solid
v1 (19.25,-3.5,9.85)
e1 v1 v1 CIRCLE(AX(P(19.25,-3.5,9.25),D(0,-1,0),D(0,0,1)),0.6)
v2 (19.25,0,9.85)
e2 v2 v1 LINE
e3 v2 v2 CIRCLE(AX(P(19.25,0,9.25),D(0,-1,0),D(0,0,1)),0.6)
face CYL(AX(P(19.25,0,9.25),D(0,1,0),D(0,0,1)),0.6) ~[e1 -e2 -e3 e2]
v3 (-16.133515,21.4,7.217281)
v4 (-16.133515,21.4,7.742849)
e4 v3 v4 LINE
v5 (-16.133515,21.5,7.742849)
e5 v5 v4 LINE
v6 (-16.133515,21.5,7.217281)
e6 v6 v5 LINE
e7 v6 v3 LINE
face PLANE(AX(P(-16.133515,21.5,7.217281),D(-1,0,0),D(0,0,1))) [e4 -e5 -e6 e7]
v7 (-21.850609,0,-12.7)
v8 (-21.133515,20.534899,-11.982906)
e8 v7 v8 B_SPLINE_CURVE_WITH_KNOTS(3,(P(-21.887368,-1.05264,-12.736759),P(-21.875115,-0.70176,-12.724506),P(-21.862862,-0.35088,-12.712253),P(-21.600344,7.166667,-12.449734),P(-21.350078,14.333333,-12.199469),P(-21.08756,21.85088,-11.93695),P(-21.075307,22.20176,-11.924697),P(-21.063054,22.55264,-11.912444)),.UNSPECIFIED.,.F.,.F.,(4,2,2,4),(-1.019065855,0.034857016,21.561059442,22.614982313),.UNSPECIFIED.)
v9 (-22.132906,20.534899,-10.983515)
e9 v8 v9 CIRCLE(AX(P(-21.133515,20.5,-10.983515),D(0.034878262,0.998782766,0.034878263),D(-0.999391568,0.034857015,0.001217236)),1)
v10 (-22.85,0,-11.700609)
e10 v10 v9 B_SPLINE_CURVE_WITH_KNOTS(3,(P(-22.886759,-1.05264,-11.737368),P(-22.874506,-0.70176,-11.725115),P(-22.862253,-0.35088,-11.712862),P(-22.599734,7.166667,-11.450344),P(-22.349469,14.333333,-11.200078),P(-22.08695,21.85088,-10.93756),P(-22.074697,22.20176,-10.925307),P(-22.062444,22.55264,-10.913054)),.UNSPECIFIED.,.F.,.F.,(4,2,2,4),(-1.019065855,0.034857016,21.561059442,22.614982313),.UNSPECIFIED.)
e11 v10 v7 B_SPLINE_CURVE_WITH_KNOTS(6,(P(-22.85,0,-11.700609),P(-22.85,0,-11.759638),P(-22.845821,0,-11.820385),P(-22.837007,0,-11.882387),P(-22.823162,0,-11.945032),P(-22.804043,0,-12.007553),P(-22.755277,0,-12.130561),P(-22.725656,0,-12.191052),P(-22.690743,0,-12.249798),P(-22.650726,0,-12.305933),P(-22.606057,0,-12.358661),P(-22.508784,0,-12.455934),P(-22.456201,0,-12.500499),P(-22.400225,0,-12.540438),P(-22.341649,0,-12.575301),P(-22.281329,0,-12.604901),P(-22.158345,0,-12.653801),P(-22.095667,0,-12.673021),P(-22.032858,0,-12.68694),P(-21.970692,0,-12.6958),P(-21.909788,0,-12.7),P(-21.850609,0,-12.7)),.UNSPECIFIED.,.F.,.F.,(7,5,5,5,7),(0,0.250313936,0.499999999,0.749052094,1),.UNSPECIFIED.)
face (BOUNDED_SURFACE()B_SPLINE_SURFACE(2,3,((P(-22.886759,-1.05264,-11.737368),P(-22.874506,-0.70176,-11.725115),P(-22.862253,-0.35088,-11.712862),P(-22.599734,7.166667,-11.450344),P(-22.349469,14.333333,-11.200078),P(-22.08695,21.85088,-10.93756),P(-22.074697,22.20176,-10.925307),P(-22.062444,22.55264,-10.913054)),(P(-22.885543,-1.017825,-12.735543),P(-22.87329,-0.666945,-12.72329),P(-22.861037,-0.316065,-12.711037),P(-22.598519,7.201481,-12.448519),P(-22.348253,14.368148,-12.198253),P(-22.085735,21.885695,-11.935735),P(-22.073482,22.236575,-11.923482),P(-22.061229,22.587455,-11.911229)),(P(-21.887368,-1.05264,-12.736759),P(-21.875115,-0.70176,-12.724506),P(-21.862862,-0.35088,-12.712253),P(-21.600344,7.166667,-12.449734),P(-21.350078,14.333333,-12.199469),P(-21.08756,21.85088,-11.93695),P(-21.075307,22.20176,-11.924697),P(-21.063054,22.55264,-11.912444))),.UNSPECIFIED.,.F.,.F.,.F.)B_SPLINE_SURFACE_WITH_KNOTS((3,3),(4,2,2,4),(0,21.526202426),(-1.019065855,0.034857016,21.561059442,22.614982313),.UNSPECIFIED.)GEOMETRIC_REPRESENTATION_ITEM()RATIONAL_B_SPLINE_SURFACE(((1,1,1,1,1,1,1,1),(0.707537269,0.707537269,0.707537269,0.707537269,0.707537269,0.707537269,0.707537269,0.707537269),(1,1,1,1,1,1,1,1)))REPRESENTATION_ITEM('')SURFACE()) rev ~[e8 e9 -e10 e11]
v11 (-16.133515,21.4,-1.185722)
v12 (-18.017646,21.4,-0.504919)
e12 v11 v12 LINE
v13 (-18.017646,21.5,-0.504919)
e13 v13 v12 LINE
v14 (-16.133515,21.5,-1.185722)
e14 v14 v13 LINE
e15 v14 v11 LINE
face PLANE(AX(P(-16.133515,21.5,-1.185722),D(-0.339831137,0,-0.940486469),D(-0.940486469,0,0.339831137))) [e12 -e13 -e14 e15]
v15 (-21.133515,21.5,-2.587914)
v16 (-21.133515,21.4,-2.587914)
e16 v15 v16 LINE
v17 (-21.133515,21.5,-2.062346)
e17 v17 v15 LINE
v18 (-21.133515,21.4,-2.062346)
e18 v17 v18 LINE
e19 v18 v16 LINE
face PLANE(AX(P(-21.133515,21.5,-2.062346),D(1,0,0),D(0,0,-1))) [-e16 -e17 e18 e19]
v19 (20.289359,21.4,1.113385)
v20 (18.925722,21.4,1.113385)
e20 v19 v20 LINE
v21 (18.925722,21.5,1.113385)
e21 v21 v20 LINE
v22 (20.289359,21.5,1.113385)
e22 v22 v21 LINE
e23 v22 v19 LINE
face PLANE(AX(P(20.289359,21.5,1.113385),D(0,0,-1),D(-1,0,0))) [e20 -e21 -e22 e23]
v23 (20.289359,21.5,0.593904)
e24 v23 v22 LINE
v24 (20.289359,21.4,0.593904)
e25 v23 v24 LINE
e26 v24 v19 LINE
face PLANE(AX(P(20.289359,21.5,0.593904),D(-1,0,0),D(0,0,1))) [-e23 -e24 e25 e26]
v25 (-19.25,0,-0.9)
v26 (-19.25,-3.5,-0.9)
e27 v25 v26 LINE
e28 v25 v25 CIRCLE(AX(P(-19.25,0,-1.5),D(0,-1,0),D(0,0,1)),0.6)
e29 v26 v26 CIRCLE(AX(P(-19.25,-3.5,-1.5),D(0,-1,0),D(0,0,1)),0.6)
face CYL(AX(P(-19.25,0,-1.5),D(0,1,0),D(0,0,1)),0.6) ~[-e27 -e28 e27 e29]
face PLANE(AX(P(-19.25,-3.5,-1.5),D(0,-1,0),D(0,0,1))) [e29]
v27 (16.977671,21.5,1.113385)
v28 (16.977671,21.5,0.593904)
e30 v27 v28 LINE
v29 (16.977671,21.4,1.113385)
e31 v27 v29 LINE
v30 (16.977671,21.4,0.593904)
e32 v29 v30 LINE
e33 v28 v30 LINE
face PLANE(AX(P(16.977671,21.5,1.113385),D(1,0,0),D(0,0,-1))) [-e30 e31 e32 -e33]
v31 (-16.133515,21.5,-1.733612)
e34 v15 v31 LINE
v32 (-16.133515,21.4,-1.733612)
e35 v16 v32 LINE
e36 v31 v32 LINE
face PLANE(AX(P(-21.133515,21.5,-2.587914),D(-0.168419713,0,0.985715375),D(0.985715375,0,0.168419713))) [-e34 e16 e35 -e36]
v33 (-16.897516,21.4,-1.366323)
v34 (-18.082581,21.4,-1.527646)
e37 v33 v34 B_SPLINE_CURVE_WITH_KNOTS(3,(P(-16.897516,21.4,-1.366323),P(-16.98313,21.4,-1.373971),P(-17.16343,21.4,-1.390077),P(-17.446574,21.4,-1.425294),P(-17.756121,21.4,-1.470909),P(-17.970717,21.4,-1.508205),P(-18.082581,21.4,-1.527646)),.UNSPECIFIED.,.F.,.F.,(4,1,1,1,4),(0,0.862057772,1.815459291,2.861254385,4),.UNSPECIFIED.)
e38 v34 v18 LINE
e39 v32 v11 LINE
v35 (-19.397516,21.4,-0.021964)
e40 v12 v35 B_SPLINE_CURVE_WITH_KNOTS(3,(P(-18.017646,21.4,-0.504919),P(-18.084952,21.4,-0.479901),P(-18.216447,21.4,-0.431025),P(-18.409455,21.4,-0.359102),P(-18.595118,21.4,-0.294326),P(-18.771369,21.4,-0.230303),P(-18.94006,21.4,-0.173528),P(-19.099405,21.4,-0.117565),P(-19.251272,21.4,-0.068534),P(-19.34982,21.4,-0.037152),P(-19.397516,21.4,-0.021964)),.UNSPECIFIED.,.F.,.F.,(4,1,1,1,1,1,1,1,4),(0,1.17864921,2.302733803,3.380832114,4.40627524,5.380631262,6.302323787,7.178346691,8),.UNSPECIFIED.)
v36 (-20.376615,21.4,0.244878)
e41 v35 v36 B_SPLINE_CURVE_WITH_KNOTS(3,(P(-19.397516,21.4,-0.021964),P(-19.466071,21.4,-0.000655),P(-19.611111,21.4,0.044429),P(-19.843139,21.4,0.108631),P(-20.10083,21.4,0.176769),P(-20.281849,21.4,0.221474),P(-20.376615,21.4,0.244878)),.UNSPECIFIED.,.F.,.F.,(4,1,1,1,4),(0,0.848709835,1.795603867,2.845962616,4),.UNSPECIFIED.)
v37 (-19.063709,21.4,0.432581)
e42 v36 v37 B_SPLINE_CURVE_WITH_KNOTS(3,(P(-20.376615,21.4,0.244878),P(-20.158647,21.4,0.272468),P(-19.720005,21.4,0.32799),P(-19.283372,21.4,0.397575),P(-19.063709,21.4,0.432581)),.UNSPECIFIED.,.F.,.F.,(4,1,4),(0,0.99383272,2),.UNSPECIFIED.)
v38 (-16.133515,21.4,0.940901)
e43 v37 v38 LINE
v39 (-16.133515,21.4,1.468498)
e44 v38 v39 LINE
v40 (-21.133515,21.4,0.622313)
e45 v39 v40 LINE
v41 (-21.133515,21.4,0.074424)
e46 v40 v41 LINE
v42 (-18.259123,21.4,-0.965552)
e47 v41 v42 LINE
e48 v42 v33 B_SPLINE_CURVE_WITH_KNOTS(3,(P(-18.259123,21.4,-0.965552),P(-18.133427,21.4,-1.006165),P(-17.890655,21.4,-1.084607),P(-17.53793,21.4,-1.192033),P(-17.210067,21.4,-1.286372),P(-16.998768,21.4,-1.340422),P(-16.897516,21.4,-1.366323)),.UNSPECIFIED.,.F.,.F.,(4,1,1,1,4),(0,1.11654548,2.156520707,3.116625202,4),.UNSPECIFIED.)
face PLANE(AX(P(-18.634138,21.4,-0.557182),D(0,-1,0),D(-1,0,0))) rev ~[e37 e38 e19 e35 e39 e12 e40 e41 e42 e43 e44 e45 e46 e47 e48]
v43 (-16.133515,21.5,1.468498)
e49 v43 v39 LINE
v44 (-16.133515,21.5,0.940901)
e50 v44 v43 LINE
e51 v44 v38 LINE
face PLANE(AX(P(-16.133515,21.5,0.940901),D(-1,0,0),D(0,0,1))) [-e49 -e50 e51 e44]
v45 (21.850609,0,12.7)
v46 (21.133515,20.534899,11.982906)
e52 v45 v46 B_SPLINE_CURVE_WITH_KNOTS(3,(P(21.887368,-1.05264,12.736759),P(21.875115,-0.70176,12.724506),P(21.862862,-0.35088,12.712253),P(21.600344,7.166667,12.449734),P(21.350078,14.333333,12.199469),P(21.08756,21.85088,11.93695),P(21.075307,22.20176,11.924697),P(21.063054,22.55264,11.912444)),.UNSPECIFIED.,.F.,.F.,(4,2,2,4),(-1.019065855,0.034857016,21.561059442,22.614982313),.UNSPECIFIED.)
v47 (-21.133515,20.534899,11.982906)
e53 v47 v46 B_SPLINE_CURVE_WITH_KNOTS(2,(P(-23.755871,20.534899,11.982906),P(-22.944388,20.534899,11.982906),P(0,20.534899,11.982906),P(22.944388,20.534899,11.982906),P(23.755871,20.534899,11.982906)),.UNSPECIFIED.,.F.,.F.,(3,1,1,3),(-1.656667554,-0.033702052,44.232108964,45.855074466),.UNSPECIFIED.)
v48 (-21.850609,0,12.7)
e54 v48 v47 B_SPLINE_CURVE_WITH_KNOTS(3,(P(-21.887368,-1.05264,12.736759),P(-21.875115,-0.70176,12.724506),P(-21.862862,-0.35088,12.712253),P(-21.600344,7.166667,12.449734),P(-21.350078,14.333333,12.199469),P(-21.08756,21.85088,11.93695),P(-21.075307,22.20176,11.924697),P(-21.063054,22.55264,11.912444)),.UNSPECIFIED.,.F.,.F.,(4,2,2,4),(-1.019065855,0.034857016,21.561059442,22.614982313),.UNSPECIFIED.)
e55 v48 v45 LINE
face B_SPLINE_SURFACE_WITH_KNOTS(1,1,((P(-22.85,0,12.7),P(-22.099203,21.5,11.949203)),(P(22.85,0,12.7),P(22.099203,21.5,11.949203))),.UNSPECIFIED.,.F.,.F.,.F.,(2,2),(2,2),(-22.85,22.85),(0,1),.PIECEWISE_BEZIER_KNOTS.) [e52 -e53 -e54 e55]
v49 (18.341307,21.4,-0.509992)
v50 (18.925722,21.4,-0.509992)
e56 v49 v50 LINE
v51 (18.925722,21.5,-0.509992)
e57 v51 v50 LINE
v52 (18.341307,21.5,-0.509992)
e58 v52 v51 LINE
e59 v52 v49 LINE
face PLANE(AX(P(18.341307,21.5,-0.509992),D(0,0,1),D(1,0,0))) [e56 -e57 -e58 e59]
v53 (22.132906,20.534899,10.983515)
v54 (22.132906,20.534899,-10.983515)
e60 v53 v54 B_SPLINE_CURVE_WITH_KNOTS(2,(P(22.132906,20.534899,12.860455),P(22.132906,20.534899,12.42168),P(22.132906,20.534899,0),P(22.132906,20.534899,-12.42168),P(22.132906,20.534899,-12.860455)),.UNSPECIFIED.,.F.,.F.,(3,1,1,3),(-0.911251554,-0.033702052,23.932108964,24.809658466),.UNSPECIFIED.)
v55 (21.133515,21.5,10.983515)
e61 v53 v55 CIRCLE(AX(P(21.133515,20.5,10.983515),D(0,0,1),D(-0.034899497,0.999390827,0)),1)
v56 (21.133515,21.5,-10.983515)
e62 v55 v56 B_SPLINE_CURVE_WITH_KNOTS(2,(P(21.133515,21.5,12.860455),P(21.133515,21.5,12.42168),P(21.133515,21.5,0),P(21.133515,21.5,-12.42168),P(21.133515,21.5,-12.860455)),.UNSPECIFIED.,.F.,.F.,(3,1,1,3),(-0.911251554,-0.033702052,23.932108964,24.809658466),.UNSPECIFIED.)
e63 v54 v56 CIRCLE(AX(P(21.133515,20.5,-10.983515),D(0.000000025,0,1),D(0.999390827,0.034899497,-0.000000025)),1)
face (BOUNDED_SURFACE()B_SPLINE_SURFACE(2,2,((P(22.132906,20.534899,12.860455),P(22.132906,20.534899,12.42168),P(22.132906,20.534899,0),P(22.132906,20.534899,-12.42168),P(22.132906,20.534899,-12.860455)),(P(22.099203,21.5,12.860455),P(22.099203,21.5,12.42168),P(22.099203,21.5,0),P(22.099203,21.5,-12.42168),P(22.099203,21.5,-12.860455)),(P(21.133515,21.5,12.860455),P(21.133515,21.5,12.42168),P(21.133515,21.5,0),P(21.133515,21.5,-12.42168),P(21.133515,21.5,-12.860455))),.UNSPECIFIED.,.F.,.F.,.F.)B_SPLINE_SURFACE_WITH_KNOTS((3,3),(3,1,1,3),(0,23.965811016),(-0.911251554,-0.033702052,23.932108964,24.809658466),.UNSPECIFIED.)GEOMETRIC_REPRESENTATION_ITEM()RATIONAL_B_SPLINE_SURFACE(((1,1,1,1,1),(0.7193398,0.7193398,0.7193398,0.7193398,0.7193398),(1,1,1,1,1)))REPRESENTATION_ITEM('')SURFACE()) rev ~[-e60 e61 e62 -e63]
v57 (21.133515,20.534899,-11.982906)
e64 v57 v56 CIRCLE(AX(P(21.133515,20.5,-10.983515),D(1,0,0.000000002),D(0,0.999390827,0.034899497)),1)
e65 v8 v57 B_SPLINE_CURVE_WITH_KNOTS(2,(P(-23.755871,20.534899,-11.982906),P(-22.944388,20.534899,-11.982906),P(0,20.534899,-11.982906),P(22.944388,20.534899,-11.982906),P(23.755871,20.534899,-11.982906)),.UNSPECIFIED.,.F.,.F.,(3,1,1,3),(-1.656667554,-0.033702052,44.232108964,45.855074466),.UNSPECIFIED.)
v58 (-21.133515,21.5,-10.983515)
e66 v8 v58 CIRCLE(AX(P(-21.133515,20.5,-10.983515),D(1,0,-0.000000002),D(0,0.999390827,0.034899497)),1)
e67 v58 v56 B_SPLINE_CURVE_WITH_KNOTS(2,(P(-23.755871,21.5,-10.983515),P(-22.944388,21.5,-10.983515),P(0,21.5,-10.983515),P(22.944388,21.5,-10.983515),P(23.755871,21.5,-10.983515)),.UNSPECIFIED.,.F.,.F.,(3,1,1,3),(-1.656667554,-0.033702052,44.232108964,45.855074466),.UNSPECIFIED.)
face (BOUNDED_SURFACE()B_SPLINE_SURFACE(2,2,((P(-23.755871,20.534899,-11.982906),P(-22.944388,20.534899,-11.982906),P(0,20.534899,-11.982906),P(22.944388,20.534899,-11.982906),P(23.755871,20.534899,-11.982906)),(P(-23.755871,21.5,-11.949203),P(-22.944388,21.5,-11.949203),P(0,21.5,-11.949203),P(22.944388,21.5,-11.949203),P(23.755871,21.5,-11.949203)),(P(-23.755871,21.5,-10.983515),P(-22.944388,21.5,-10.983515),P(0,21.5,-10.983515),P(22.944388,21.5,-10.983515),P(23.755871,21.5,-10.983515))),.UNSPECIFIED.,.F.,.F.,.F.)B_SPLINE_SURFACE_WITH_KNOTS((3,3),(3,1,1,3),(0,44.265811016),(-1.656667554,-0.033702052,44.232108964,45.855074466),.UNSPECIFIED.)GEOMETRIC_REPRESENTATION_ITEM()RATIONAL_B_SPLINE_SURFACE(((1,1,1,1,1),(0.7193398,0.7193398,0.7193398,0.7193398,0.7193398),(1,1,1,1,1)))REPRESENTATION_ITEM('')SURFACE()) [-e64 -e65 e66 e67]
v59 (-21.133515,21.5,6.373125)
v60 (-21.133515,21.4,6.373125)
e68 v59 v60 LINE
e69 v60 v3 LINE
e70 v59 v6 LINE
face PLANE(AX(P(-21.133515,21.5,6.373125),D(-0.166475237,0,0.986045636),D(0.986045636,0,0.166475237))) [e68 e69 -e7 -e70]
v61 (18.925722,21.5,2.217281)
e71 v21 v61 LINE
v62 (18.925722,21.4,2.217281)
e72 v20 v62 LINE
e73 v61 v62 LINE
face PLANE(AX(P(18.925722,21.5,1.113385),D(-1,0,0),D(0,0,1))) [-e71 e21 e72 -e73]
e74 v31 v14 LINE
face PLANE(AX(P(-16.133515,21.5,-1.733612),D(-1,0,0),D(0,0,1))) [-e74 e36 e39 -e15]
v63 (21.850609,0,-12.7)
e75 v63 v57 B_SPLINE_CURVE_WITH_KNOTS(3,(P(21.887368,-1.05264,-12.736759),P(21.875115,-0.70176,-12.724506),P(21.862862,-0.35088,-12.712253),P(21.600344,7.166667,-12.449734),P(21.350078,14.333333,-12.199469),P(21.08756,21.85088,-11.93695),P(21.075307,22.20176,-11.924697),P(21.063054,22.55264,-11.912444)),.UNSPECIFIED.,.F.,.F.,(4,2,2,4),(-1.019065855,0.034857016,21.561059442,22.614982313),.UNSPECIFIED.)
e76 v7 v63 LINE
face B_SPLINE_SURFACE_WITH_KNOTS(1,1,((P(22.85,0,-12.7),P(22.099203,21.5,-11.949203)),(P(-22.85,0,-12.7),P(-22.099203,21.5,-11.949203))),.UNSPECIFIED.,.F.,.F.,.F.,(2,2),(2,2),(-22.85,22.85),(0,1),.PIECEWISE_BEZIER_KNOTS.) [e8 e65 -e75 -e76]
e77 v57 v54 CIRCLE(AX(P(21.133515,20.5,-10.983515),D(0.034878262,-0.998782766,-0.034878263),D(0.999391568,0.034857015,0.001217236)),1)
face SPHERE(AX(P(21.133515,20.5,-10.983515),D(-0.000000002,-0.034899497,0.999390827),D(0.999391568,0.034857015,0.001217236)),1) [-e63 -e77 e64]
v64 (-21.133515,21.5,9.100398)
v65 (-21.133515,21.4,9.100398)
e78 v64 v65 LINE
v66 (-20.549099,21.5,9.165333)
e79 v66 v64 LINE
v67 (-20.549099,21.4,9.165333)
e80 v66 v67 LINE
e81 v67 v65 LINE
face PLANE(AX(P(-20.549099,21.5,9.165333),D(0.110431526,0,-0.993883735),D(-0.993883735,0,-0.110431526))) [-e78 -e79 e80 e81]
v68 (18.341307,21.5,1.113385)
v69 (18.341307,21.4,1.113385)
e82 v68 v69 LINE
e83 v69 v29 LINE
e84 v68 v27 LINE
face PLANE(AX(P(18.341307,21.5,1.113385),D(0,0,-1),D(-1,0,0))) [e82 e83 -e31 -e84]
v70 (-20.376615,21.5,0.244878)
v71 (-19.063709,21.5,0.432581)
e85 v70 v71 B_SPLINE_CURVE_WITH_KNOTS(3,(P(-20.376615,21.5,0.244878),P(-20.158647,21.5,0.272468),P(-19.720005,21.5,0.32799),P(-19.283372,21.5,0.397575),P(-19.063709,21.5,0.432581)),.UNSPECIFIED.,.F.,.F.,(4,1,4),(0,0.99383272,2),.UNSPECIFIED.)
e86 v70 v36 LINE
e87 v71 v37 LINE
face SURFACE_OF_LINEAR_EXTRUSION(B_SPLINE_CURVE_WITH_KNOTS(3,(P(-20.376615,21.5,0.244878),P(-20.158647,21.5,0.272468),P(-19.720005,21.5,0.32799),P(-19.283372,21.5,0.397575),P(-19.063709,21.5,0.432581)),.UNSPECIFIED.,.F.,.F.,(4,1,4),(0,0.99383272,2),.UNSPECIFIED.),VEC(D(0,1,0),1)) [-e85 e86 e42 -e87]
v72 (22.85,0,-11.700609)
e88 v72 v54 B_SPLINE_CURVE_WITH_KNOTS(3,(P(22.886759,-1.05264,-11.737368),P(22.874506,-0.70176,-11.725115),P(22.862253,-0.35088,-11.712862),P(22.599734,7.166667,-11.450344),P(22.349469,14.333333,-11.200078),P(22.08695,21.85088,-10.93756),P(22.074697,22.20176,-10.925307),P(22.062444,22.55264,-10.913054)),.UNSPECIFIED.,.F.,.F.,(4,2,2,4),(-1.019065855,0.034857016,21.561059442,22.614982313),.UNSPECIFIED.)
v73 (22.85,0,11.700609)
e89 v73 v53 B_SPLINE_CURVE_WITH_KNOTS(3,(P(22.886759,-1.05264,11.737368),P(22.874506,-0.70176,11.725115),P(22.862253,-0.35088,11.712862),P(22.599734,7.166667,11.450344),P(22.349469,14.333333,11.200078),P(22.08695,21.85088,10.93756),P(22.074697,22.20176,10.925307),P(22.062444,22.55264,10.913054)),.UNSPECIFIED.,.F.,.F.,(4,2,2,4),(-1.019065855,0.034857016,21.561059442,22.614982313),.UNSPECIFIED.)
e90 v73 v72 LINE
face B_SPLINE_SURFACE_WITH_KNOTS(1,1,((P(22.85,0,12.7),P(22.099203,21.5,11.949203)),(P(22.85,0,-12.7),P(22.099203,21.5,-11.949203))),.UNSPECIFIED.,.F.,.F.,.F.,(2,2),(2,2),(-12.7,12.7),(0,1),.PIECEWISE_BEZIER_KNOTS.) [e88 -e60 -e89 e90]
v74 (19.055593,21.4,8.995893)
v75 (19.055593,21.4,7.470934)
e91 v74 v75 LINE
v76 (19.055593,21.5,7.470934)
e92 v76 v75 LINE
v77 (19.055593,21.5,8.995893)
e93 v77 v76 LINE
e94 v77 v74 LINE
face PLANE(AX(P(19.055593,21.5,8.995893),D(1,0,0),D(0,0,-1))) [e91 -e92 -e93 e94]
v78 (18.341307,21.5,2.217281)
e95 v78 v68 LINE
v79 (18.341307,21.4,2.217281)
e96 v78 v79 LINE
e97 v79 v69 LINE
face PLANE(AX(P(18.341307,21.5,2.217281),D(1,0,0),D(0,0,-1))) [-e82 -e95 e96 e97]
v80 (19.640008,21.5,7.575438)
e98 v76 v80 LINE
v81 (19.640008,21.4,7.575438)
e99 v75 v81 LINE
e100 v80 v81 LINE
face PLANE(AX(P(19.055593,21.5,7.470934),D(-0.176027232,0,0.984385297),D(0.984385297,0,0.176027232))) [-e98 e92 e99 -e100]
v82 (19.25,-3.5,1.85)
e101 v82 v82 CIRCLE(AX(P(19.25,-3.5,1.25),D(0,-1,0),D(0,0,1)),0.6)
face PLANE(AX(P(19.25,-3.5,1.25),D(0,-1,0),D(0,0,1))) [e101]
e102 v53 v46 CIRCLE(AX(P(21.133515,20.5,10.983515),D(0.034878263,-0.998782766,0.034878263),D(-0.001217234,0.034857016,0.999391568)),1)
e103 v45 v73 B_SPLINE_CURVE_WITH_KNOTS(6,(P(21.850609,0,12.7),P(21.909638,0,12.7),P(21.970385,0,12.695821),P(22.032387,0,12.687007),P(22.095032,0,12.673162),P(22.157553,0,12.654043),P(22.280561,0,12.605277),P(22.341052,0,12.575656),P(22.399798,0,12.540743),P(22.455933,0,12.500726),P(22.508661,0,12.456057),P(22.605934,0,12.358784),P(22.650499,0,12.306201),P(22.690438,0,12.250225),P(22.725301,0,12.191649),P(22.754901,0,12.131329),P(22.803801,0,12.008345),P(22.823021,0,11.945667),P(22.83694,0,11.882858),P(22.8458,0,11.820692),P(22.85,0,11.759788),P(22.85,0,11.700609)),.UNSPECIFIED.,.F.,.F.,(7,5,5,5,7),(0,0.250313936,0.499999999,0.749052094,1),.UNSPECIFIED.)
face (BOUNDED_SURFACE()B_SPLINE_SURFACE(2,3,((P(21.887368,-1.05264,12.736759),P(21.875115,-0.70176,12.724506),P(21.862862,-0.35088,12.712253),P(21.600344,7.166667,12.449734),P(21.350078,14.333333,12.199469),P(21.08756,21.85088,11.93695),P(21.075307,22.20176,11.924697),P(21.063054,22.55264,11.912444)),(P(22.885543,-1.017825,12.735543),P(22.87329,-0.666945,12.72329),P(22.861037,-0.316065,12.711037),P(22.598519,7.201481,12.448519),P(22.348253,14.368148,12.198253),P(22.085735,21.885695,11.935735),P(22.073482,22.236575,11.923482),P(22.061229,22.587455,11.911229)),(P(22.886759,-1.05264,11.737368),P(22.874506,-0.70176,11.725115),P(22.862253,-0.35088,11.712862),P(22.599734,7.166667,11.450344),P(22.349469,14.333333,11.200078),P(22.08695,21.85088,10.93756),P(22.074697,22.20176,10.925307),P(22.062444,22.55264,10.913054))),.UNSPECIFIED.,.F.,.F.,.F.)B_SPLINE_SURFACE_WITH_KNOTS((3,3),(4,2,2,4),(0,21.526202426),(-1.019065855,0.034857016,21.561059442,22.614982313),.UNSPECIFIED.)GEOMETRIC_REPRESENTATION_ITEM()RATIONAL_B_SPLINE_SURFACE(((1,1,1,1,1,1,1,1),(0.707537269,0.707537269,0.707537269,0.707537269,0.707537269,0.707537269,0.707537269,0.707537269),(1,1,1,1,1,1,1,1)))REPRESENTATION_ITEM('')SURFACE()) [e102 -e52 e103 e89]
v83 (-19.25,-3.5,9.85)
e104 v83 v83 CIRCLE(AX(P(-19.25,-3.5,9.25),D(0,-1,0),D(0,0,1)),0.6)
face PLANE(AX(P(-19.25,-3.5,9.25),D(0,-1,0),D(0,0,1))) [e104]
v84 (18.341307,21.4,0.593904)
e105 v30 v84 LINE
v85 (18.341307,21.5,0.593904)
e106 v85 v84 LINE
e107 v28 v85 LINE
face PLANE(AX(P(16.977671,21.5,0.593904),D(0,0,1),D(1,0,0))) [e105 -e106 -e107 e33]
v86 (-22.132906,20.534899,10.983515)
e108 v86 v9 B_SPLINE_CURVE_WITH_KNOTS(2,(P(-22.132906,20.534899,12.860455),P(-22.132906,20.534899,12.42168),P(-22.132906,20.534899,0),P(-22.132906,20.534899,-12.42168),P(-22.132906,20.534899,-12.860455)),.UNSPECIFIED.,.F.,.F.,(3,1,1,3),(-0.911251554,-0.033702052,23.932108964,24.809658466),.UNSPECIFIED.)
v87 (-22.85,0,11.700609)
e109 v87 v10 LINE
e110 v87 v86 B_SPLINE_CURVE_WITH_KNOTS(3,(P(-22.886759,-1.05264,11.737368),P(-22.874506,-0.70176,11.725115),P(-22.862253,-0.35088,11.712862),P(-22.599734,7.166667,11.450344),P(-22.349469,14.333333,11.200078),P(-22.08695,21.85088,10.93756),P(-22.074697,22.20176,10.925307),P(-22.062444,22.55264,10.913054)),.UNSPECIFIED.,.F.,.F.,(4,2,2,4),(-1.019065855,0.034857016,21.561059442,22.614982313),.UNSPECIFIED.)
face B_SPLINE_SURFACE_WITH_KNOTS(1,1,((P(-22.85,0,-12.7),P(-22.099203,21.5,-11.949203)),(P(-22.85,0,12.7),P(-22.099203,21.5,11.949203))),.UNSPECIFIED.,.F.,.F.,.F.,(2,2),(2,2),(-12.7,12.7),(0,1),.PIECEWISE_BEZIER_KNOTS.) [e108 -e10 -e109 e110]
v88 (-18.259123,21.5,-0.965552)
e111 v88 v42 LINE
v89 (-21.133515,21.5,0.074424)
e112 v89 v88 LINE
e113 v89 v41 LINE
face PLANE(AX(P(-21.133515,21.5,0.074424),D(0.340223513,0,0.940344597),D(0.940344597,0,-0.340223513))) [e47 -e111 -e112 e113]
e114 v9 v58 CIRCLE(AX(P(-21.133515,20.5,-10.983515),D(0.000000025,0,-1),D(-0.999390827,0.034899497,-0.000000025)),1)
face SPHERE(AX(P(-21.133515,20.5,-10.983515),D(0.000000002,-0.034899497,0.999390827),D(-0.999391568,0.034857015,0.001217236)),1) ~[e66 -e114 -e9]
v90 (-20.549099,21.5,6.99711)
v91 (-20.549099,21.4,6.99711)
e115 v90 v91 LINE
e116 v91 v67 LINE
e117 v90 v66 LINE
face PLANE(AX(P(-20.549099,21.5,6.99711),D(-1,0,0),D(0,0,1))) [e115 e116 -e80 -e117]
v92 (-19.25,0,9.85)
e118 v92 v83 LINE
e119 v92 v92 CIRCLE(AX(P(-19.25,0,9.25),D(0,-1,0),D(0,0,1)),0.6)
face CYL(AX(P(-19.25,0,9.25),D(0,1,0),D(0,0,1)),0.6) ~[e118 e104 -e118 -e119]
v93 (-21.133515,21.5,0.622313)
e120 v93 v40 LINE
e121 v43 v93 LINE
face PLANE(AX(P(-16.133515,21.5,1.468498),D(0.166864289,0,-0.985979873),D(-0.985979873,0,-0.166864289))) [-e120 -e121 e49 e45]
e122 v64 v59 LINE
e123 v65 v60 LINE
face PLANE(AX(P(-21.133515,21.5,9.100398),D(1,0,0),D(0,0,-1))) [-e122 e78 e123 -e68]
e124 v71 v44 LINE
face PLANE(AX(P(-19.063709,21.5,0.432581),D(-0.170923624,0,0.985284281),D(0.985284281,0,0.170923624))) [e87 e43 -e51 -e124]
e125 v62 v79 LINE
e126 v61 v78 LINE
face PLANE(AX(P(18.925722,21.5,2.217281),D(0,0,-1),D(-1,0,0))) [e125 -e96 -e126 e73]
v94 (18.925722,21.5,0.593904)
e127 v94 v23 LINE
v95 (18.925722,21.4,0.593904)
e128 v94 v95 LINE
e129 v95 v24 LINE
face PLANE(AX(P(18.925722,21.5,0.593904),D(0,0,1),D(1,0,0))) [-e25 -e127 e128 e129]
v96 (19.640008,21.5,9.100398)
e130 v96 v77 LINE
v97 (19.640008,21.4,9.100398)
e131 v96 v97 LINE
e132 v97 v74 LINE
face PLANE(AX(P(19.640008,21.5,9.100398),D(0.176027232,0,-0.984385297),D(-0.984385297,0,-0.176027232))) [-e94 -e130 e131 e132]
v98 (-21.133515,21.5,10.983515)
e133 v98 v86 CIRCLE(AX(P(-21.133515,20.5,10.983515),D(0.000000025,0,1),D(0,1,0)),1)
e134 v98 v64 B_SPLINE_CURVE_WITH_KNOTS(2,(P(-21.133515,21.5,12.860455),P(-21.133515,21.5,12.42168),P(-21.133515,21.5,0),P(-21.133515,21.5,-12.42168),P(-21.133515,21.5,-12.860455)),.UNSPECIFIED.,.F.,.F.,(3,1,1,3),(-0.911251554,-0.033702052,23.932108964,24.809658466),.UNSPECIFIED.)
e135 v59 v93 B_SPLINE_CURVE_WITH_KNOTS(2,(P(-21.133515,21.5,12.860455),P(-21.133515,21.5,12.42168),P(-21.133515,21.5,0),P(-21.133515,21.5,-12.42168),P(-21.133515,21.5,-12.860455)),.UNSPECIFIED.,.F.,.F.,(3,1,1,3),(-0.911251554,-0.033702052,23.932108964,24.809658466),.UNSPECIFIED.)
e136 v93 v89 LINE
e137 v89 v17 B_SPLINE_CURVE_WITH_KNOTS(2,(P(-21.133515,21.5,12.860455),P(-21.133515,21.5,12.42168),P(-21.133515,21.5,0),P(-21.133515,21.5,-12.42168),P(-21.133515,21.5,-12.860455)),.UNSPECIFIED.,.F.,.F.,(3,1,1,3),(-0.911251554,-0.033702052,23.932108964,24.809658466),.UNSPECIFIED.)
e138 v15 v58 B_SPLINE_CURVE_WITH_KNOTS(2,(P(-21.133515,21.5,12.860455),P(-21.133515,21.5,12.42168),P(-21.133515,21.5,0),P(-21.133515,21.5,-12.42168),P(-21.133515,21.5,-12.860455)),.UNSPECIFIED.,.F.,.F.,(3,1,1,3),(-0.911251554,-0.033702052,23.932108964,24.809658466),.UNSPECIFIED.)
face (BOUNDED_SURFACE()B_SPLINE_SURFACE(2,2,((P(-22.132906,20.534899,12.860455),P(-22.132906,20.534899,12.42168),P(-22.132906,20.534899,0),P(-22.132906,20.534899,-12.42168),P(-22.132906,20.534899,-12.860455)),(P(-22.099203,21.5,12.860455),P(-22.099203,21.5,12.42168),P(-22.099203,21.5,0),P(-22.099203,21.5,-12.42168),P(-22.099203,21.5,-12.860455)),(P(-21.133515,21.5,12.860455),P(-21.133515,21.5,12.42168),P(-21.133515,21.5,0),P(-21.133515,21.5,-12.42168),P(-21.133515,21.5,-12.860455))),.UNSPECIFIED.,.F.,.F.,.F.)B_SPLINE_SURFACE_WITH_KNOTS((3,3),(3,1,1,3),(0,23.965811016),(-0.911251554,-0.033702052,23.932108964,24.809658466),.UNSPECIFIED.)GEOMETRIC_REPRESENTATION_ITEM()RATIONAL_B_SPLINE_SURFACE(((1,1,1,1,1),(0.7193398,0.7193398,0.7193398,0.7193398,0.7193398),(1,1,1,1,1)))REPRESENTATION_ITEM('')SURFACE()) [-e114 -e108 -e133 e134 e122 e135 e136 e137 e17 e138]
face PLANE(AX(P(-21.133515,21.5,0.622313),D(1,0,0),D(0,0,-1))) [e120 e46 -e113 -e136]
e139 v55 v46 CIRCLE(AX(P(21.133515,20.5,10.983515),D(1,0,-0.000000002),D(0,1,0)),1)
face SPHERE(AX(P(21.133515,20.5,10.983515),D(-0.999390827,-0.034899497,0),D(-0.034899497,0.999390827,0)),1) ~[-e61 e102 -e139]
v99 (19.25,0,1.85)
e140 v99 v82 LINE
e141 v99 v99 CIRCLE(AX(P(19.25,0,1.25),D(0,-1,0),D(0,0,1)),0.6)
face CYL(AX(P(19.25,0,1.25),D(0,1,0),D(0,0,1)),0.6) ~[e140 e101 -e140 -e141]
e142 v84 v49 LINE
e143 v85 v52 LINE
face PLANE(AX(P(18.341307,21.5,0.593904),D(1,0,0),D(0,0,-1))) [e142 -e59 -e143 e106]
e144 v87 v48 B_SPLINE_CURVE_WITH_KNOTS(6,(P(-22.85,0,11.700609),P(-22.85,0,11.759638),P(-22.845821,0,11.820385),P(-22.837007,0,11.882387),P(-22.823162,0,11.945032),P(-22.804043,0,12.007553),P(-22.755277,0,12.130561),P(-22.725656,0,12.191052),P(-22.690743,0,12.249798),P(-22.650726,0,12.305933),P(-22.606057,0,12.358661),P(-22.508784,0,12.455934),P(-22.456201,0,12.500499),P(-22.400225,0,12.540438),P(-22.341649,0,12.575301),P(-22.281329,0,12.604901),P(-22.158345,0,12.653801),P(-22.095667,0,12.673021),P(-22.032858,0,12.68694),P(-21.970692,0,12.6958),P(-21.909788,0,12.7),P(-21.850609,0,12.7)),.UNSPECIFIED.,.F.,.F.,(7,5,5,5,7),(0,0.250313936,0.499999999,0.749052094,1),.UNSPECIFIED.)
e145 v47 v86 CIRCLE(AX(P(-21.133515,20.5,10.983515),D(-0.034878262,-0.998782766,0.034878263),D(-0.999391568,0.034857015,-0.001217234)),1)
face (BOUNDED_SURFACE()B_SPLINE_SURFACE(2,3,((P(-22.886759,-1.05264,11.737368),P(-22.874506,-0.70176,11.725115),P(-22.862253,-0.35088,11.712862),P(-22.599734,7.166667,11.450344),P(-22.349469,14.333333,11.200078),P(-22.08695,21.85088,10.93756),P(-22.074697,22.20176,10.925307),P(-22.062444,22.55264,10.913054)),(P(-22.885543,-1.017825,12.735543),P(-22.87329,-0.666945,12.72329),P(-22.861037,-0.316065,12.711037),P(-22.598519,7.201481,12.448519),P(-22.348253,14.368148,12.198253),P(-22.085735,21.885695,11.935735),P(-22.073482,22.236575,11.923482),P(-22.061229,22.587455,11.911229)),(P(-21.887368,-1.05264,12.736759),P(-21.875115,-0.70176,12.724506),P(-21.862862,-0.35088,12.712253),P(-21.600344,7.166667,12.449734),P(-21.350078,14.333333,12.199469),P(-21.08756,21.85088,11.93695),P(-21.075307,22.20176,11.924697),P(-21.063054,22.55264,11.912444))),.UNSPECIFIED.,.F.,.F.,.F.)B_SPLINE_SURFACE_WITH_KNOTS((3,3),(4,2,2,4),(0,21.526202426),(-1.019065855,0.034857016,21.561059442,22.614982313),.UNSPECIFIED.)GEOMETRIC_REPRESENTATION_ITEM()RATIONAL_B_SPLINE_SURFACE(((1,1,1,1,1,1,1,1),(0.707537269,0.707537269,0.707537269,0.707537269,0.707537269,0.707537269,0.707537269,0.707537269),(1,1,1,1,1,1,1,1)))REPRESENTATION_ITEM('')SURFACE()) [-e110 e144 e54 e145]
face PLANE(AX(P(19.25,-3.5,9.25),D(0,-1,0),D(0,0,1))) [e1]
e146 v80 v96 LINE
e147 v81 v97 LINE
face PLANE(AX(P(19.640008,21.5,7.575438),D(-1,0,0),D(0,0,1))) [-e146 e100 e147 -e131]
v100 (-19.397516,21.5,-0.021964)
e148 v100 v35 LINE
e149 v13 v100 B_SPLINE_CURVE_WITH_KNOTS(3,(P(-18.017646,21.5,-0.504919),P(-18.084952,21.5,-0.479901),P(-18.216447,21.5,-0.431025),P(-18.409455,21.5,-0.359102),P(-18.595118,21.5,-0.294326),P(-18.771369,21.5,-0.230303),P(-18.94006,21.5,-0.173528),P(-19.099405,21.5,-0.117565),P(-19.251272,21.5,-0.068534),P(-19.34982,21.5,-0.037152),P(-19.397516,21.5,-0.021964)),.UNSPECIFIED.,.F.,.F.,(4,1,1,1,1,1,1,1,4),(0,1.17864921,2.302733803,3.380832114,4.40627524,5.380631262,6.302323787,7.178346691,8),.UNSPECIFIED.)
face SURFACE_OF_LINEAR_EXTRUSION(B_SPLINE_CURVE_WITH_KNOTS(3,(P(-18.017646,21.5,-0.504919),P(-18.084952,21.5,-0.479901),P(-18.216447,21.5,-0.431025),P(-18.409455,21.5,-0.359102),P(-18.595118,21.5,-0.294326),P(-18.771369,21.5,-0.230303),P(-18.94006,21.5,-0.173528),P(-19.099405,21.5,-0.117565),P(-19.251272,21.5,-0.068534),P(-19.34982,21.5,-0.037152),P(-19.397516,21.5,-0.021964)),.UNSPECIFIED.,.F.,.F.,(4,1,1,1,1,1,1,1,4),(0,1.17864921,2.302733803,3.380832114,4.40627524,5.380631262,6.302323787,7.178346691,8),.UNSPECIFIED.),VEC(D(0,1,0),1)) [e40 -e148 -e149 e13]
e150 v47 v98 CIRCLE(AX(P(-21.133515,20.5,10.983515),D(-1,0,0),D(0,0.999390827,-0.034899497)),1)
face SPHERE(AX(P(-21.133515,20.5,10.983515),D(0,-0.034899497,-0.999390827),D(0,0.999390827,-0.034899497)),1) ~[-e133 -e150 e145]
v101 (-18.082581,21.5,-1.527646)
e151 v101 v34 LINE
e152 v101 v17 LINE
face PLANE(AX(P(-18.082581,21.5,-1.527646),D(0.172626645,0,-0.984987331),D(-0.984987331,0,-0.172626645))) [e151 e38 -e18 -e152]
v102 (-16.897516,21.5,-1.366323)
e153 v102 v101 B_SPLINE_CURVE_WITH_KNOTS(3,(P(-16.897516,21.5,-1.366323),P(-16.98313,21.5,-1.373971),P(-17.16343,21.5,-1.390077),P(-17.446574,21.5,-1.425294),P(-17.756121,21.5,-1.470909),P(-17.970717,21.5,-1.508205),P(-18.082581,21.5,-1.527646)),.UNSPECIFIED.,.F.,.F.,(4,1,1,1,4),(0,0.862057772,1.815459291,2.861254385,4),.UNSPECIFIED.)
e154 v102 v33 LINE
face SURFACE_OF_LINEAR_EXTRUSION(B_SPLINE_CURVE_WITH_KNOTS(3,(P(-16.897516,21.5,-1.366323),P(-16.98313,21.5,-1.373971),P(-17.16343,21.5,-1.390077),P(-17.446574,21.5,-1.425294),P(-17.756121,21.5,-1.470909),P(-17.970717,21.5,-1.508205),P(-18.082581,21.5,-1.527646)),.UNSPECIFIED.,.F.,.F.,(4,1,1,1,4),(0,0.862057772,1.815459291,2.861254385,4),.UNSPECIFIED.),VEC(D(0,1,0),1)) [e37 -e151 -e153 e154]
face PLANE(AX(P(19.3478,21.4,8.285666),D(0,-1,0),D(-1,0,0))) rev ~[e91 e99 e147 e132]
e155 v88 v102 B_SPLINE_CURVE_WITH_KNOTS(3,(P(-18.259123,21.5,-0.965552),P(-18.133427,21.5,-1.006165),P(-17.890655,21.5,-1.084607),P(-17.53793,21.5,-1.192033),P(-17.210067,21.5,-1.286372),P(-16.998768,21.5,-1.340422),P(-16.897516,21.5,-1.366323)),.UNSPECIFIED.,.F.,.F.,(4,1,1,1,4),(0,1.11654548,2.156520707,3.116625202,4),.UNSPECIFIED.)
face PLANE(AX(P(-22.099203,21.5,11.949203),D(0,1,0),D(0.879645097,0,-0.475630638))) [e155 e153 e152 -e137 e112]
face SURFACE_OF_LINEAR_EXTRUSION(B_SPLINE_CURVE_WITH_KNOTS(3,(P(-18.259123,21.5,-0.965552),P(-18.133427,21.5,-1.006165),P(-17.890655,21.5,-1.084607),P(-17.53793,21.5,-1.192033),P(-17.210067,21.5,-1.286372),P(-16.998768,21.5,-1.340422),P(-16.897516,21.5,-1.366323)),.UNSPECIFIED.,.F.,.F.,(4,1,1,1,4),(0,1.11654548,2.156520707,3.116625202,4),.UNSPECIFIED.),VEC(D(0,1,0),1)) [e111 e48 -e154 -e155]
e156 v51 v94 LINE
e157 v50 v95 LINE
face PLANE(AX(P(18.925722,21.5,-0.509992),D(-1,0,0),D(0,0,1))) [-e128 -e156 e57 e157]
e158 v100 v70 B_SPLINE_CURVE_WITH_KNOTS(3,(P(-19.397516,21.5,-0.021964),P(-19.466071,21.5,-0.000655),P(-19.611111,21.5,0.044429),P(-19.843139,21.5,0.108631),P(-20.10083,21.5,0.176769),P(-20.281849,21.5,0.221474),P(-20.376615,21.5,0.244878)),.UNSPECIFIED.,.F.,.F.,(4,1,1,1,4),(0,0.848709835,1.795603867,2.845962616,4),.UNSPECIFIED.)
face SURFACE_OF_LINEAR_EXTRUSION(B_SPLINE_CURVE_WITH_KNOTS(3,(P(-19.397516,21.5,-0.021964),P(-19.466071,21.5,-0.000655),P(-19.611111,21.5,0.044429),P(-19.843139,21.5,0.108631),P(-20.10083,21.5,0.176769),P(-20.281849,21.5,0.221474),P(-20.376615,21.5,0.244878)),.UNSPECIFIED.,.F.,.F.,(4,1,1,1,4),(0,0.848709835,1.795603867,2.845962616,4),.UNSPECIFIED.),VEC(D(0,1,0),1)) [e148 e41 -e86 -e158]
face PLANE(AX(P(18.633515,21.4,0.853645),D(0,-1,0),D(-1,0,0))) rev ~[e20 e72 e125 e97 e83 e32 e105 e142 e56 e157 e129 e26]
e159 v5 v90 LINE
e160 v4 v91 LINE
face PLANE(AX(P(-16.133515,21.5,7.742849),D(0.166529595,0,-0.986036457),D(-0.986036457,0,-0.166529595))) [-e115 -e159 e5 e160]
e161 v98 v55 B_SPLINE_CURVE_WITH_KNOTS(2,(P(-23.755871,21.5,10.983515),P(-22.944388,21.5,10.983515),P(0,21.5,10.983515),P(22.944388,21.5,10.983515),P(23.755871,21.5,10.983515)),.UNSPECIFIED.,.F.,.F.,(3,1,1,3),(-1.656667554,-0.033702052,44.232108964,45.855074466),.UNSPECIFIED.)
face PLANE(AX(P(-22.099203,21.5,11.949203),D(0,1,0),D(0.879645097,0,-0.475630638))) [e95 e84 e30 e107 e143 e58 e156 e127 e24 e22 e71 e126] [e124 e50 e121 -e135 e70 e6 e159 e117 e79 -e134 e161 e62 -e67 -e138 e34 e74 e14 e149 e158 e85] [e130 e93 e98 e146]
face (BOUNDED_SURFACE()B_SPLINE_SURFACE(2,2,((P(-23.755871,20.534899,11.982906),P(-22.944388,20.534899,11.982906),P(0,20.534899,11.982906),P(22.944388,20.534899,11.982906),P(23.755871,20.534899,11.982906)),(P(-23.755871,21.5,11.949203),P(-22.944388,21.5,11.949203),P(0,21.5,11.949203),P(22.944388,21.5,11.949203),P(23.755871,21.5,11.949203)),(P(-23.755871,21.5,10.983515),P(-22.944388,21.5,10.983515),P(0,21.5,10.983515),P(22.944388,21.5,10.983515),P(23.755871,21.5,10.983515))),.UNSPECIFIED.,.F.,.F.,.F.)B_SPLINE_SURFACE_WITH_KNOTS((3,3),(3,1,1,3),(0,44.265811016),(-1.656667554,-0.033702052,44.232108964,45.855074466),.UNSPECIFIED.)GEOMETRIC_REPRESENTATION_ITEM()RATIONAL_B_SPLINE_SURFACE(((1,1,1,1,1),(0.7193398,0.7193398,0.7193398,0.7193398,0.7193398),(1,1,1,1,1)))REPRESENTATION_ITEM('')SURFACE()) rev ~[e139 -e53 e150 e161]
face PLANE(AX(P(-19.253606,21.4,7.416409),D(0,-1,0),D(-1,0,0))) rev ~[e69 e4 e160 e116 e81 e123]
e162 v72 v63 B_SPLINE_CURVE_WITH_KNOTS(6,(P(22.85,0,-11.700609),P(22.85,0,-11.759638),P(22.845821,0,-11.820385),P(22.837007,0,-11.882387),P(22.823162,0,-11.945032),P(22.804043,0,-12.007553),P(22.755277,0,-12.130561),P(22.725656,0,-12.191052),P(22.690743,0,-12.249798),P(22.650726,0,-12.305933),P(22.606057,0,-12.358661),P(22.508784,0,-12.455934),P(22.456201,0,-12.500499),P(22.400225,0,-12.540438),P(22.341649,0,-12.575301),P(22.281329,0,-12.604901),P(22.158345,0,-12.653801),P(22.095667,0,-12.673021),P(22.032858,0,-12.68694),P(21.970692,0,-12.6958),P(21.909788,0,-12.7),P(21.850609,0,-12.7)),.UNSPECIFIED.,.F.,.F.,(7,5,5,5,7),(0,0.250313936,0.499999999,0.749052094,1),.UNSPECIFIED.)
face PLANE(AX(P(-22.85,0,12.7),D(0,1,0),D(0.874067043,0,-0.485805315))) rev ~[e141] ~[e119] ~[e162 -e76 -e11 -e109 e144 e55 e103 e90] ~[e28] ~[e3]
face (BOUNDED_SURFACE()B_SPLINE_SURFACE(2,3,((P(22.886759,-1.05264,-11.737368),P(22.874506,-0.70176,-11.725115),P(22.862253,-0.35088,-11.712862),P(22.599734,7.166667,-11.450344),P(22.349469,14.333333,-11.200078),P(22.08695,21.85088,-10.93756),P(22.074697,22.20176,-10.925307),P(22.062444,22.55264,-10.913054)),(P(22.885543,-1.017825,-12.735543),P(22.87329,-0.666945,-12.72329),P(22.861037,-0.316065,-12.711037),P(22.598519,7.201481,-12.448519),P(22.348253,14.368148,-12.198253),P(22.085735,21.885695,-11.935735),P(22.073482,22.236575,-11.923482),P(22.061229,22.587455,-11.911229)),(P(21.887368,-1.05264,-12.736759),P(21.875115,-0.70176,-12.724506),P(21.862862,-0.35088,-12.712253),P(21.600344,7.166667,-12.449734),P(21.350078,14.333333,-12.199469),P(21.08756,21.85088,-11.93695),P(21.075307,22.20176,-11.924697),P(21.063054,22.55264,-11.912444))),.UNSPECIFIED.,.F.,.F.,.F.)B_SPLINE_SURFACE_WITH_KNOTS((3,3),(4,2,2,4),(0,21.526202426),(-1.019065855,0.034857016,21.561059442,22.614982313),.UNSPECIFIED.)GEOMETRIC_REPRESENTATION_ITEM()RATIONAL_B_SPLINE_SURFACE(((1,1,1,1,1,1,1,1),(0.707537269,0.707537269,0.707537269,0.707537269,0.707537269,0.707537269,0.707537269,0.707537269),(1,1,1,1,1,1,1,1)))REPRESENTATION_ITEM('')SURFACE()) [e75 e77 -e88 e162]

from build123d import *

# Parameters (mm, degrees)
SKETCH_1_W          = 45.7
SKETCH_1_H          = 25.4
EXTRUDE_1_DEPTH     = 21.5
EXTRUDE_1_TAPER     = 2
FILLET_1_R          = 1
SKETCH_2_R          = 0.6
EXTRUDE_2_DEPTH     = 3.5
CUT_EXTRUDE_1_DEPTH = 0.1


with BuildPart() as part:
    # Эскиз1 → Бобышка-Вытянуть1 (new body)
    with BuildSketch(Plane(origin=(0, 0, 0), x_dir=(1, 0, 0), z_dir=(0, 1, 0))):
        Rectangle(SKETCH_1_W, SKETCH_1_H)
    extrude(amount=EXTRUDE_1_DEPTH, taper=EXTRUDE_1_TAPER)

    # Скругление1
    fillet_1_edges = [part.edges().sort_by_distance(p)[0] for p in [
        (-22.099203456, 21.5, 0),
        (0, 21.5, 11.949203456),
        (22.099203456, 21.5, 0),
        (22.474601728, 10.75, 12.324601728),
        (-22.474601728, 10.75, 12.324601728),
        (-22.474601728, 10.75, -12.324601728),
        (22.474601728, 10.75, -12.324601728),
        (0, 21.5, -11.949203456),
    ]]
    fillet(fillet_1_edges, radius=FILLET_1_R)

    # Эскиз2 → Бобышка-Вытянуть2 (add)
    with BuildSketch(Plane.XZ):
        with Locations(Location((-19.25, 9.25, 0), (0, 0, 90))):
            Circle(SKETCH_2_R)
        with Locations(Location((19.25, 9.25, 0), (0, 0, 90))):
            Circle(SKETCH_2_R)
        with Locations(Location((19.25, 1.25, 0), (0, 0, 90))):
            Circle(SKETCH_2_R)
        with Locations(Location((-19.25, -1.5, 0), (0, 0, 90))):
            Circle(SKETCH_2_R)
    extrude(amount=EXTRUDE_2_DEPTH)

    # Эскиз3 → Вырез-Вытянуть1 (cut)
    with BuildSketch(Plane(origin=(0, 21.5, 0), x_dir=(1, 0, 0), z_dir=(0, 1, 0))):
        Polygon((19.640008188, -9.100397798), (19.055592603, -8.995892928), (19.055592603, -7.470933512), (19.640008188, -7.575438382), align=None)
        Polygon((20.289358837, -1.113384811), (18.925722473, -1.113384811), (18.925722473, -2.217280915), (18.341306889, -2.217280915), (18.341306889, -1.113384811), (16.977670525, -1.113384811), (16.977670525, -0.593904292), (18.341306889, -0.593904292), (18.341306889, 0.509991812), (18.925722473, 0.509991812), (18.925722473, -0.593904292), (20.289358837, -0.593904292), align=None)
        Polygon((-21.133514681, -6.373125071), (-16.133514681, -7.217280915), (-16.133514681, -7.742849097), (-20.549099097, -6.99711046), (-20.549099097, -9.165332863), (-21.133514681, -9.100397798), align=None)
        with BuildLine():
            Line((-21.133514681, 2.58791389), (-16.133514681, 1.733611942))
            Line((-16.133514681, 1.733611942), (-16.133514681, 1.185722332))
            Line((-16.133514681, 1.185722332), (-18.017646175, 0.50491876))
            add(Edge.make_bspline(
                [(-18.017646175, 0.50491876), (-18.084951638, 0.479901412), (-18.216446711, 0.431024873), (-18.409455405, 0.359102014), (-18.595117789, 0.294326278), (-18.771368832, 0.230303102), (-18.94005961, 0.173527591), (-19.099405054, 0.11756543), (-19.251272194, 0.068533592), (-19.349820298, 0.037152336), (-19.397516304, 0.021964215)],
                knots=[0, 0, 0, 0, 1.17864921, 2.302733803, 3.380832114, 4.40627524, 5.380631262, 6.302323787, 7.178346691, 8, 8, 8, 8], degree=3))
            add(Edge.make_bspline(
                [(-19.397516304, 0.021964215), (-19.466070769, 0.000654731), (-19.611110517, -0.044429456), (-19.843139107, -0.108631255), (-20.100830498, -0.176769053), (-20.281849123, -0.221474359), (-20.37661533, -0.244878317)],
                knots=[0, 0, 0, 0, 0.848709835, 1.795603867, 2.845962616, 4, 4, 4, 4], degree=3))
            add(Edge.make_bspline(
                [(-20.37661533, -0.244878317), (-20.158646903, -0.272468182), (-19.72000482, -0.327990331), (-19.28337221, -0.397574555), (-19.063709486, -0.43258124)],
                knots=[0, 0, 0, 0, 0.99383272, 2, 2, 2, 2], degree=3))
            Line((-19.063709486, -0.43258124), (-16.133514681, -0.940901045))
            Line((-16.133514681, -0.940901045), (-16.133514681, -1.468498447))
            Line((-16.133514681, -1.468498447), (-21.133514681, -0.622313382))
            Line((-21.133514681, -0.622313382), (-21.133514681, -0.074423772))
            Line((-21.133514681, -0.074423772), (-18.259123447, 0.965551877))
            add(Edge.make_bspline(
                [(-18.259123447, 0.965551877), (-18.13342725, 1.006165207), (-17.890654825, 1.084606694), (-17.5379298, 1.192033494), (-17.210066563, 1.286371648), (-16.998768155, 1.340422442), (-16.897516304, 1.366322981)],
                knots=[0, 0, 0, 0, 1.11654548, 2.156520707, 3.116625202, 4, 4, 4, 4], degree=3))
            add(Edge.make_bspline(
                [(-16.897516304, 1.366322981), (-16.98313031, 1.373970961), (-17.163429992, 1.390077303), (-17.446573636, 1.425294437), (-17.75612092, 1.470909488), (-17.970717493, 1.508204888), (-18.08258124, 1.527646033)],
                knots=[0, 0, 0, 0, 0.862057772, 1.815459291, 2.861254385, 4, 4, 4, 4], degree=3))
            Line((-18.08258124, 1.527646033), (-21.133514681, 2.062345708))
            Line((-21.133514681, 2.062345708), (-21.133514681, 2.58791389))
        make_face()
    extrude(amount=-CUT_EXTRUDE_1_DEPTH, mode=Mode.SUBTRACT)


solid = part.part
